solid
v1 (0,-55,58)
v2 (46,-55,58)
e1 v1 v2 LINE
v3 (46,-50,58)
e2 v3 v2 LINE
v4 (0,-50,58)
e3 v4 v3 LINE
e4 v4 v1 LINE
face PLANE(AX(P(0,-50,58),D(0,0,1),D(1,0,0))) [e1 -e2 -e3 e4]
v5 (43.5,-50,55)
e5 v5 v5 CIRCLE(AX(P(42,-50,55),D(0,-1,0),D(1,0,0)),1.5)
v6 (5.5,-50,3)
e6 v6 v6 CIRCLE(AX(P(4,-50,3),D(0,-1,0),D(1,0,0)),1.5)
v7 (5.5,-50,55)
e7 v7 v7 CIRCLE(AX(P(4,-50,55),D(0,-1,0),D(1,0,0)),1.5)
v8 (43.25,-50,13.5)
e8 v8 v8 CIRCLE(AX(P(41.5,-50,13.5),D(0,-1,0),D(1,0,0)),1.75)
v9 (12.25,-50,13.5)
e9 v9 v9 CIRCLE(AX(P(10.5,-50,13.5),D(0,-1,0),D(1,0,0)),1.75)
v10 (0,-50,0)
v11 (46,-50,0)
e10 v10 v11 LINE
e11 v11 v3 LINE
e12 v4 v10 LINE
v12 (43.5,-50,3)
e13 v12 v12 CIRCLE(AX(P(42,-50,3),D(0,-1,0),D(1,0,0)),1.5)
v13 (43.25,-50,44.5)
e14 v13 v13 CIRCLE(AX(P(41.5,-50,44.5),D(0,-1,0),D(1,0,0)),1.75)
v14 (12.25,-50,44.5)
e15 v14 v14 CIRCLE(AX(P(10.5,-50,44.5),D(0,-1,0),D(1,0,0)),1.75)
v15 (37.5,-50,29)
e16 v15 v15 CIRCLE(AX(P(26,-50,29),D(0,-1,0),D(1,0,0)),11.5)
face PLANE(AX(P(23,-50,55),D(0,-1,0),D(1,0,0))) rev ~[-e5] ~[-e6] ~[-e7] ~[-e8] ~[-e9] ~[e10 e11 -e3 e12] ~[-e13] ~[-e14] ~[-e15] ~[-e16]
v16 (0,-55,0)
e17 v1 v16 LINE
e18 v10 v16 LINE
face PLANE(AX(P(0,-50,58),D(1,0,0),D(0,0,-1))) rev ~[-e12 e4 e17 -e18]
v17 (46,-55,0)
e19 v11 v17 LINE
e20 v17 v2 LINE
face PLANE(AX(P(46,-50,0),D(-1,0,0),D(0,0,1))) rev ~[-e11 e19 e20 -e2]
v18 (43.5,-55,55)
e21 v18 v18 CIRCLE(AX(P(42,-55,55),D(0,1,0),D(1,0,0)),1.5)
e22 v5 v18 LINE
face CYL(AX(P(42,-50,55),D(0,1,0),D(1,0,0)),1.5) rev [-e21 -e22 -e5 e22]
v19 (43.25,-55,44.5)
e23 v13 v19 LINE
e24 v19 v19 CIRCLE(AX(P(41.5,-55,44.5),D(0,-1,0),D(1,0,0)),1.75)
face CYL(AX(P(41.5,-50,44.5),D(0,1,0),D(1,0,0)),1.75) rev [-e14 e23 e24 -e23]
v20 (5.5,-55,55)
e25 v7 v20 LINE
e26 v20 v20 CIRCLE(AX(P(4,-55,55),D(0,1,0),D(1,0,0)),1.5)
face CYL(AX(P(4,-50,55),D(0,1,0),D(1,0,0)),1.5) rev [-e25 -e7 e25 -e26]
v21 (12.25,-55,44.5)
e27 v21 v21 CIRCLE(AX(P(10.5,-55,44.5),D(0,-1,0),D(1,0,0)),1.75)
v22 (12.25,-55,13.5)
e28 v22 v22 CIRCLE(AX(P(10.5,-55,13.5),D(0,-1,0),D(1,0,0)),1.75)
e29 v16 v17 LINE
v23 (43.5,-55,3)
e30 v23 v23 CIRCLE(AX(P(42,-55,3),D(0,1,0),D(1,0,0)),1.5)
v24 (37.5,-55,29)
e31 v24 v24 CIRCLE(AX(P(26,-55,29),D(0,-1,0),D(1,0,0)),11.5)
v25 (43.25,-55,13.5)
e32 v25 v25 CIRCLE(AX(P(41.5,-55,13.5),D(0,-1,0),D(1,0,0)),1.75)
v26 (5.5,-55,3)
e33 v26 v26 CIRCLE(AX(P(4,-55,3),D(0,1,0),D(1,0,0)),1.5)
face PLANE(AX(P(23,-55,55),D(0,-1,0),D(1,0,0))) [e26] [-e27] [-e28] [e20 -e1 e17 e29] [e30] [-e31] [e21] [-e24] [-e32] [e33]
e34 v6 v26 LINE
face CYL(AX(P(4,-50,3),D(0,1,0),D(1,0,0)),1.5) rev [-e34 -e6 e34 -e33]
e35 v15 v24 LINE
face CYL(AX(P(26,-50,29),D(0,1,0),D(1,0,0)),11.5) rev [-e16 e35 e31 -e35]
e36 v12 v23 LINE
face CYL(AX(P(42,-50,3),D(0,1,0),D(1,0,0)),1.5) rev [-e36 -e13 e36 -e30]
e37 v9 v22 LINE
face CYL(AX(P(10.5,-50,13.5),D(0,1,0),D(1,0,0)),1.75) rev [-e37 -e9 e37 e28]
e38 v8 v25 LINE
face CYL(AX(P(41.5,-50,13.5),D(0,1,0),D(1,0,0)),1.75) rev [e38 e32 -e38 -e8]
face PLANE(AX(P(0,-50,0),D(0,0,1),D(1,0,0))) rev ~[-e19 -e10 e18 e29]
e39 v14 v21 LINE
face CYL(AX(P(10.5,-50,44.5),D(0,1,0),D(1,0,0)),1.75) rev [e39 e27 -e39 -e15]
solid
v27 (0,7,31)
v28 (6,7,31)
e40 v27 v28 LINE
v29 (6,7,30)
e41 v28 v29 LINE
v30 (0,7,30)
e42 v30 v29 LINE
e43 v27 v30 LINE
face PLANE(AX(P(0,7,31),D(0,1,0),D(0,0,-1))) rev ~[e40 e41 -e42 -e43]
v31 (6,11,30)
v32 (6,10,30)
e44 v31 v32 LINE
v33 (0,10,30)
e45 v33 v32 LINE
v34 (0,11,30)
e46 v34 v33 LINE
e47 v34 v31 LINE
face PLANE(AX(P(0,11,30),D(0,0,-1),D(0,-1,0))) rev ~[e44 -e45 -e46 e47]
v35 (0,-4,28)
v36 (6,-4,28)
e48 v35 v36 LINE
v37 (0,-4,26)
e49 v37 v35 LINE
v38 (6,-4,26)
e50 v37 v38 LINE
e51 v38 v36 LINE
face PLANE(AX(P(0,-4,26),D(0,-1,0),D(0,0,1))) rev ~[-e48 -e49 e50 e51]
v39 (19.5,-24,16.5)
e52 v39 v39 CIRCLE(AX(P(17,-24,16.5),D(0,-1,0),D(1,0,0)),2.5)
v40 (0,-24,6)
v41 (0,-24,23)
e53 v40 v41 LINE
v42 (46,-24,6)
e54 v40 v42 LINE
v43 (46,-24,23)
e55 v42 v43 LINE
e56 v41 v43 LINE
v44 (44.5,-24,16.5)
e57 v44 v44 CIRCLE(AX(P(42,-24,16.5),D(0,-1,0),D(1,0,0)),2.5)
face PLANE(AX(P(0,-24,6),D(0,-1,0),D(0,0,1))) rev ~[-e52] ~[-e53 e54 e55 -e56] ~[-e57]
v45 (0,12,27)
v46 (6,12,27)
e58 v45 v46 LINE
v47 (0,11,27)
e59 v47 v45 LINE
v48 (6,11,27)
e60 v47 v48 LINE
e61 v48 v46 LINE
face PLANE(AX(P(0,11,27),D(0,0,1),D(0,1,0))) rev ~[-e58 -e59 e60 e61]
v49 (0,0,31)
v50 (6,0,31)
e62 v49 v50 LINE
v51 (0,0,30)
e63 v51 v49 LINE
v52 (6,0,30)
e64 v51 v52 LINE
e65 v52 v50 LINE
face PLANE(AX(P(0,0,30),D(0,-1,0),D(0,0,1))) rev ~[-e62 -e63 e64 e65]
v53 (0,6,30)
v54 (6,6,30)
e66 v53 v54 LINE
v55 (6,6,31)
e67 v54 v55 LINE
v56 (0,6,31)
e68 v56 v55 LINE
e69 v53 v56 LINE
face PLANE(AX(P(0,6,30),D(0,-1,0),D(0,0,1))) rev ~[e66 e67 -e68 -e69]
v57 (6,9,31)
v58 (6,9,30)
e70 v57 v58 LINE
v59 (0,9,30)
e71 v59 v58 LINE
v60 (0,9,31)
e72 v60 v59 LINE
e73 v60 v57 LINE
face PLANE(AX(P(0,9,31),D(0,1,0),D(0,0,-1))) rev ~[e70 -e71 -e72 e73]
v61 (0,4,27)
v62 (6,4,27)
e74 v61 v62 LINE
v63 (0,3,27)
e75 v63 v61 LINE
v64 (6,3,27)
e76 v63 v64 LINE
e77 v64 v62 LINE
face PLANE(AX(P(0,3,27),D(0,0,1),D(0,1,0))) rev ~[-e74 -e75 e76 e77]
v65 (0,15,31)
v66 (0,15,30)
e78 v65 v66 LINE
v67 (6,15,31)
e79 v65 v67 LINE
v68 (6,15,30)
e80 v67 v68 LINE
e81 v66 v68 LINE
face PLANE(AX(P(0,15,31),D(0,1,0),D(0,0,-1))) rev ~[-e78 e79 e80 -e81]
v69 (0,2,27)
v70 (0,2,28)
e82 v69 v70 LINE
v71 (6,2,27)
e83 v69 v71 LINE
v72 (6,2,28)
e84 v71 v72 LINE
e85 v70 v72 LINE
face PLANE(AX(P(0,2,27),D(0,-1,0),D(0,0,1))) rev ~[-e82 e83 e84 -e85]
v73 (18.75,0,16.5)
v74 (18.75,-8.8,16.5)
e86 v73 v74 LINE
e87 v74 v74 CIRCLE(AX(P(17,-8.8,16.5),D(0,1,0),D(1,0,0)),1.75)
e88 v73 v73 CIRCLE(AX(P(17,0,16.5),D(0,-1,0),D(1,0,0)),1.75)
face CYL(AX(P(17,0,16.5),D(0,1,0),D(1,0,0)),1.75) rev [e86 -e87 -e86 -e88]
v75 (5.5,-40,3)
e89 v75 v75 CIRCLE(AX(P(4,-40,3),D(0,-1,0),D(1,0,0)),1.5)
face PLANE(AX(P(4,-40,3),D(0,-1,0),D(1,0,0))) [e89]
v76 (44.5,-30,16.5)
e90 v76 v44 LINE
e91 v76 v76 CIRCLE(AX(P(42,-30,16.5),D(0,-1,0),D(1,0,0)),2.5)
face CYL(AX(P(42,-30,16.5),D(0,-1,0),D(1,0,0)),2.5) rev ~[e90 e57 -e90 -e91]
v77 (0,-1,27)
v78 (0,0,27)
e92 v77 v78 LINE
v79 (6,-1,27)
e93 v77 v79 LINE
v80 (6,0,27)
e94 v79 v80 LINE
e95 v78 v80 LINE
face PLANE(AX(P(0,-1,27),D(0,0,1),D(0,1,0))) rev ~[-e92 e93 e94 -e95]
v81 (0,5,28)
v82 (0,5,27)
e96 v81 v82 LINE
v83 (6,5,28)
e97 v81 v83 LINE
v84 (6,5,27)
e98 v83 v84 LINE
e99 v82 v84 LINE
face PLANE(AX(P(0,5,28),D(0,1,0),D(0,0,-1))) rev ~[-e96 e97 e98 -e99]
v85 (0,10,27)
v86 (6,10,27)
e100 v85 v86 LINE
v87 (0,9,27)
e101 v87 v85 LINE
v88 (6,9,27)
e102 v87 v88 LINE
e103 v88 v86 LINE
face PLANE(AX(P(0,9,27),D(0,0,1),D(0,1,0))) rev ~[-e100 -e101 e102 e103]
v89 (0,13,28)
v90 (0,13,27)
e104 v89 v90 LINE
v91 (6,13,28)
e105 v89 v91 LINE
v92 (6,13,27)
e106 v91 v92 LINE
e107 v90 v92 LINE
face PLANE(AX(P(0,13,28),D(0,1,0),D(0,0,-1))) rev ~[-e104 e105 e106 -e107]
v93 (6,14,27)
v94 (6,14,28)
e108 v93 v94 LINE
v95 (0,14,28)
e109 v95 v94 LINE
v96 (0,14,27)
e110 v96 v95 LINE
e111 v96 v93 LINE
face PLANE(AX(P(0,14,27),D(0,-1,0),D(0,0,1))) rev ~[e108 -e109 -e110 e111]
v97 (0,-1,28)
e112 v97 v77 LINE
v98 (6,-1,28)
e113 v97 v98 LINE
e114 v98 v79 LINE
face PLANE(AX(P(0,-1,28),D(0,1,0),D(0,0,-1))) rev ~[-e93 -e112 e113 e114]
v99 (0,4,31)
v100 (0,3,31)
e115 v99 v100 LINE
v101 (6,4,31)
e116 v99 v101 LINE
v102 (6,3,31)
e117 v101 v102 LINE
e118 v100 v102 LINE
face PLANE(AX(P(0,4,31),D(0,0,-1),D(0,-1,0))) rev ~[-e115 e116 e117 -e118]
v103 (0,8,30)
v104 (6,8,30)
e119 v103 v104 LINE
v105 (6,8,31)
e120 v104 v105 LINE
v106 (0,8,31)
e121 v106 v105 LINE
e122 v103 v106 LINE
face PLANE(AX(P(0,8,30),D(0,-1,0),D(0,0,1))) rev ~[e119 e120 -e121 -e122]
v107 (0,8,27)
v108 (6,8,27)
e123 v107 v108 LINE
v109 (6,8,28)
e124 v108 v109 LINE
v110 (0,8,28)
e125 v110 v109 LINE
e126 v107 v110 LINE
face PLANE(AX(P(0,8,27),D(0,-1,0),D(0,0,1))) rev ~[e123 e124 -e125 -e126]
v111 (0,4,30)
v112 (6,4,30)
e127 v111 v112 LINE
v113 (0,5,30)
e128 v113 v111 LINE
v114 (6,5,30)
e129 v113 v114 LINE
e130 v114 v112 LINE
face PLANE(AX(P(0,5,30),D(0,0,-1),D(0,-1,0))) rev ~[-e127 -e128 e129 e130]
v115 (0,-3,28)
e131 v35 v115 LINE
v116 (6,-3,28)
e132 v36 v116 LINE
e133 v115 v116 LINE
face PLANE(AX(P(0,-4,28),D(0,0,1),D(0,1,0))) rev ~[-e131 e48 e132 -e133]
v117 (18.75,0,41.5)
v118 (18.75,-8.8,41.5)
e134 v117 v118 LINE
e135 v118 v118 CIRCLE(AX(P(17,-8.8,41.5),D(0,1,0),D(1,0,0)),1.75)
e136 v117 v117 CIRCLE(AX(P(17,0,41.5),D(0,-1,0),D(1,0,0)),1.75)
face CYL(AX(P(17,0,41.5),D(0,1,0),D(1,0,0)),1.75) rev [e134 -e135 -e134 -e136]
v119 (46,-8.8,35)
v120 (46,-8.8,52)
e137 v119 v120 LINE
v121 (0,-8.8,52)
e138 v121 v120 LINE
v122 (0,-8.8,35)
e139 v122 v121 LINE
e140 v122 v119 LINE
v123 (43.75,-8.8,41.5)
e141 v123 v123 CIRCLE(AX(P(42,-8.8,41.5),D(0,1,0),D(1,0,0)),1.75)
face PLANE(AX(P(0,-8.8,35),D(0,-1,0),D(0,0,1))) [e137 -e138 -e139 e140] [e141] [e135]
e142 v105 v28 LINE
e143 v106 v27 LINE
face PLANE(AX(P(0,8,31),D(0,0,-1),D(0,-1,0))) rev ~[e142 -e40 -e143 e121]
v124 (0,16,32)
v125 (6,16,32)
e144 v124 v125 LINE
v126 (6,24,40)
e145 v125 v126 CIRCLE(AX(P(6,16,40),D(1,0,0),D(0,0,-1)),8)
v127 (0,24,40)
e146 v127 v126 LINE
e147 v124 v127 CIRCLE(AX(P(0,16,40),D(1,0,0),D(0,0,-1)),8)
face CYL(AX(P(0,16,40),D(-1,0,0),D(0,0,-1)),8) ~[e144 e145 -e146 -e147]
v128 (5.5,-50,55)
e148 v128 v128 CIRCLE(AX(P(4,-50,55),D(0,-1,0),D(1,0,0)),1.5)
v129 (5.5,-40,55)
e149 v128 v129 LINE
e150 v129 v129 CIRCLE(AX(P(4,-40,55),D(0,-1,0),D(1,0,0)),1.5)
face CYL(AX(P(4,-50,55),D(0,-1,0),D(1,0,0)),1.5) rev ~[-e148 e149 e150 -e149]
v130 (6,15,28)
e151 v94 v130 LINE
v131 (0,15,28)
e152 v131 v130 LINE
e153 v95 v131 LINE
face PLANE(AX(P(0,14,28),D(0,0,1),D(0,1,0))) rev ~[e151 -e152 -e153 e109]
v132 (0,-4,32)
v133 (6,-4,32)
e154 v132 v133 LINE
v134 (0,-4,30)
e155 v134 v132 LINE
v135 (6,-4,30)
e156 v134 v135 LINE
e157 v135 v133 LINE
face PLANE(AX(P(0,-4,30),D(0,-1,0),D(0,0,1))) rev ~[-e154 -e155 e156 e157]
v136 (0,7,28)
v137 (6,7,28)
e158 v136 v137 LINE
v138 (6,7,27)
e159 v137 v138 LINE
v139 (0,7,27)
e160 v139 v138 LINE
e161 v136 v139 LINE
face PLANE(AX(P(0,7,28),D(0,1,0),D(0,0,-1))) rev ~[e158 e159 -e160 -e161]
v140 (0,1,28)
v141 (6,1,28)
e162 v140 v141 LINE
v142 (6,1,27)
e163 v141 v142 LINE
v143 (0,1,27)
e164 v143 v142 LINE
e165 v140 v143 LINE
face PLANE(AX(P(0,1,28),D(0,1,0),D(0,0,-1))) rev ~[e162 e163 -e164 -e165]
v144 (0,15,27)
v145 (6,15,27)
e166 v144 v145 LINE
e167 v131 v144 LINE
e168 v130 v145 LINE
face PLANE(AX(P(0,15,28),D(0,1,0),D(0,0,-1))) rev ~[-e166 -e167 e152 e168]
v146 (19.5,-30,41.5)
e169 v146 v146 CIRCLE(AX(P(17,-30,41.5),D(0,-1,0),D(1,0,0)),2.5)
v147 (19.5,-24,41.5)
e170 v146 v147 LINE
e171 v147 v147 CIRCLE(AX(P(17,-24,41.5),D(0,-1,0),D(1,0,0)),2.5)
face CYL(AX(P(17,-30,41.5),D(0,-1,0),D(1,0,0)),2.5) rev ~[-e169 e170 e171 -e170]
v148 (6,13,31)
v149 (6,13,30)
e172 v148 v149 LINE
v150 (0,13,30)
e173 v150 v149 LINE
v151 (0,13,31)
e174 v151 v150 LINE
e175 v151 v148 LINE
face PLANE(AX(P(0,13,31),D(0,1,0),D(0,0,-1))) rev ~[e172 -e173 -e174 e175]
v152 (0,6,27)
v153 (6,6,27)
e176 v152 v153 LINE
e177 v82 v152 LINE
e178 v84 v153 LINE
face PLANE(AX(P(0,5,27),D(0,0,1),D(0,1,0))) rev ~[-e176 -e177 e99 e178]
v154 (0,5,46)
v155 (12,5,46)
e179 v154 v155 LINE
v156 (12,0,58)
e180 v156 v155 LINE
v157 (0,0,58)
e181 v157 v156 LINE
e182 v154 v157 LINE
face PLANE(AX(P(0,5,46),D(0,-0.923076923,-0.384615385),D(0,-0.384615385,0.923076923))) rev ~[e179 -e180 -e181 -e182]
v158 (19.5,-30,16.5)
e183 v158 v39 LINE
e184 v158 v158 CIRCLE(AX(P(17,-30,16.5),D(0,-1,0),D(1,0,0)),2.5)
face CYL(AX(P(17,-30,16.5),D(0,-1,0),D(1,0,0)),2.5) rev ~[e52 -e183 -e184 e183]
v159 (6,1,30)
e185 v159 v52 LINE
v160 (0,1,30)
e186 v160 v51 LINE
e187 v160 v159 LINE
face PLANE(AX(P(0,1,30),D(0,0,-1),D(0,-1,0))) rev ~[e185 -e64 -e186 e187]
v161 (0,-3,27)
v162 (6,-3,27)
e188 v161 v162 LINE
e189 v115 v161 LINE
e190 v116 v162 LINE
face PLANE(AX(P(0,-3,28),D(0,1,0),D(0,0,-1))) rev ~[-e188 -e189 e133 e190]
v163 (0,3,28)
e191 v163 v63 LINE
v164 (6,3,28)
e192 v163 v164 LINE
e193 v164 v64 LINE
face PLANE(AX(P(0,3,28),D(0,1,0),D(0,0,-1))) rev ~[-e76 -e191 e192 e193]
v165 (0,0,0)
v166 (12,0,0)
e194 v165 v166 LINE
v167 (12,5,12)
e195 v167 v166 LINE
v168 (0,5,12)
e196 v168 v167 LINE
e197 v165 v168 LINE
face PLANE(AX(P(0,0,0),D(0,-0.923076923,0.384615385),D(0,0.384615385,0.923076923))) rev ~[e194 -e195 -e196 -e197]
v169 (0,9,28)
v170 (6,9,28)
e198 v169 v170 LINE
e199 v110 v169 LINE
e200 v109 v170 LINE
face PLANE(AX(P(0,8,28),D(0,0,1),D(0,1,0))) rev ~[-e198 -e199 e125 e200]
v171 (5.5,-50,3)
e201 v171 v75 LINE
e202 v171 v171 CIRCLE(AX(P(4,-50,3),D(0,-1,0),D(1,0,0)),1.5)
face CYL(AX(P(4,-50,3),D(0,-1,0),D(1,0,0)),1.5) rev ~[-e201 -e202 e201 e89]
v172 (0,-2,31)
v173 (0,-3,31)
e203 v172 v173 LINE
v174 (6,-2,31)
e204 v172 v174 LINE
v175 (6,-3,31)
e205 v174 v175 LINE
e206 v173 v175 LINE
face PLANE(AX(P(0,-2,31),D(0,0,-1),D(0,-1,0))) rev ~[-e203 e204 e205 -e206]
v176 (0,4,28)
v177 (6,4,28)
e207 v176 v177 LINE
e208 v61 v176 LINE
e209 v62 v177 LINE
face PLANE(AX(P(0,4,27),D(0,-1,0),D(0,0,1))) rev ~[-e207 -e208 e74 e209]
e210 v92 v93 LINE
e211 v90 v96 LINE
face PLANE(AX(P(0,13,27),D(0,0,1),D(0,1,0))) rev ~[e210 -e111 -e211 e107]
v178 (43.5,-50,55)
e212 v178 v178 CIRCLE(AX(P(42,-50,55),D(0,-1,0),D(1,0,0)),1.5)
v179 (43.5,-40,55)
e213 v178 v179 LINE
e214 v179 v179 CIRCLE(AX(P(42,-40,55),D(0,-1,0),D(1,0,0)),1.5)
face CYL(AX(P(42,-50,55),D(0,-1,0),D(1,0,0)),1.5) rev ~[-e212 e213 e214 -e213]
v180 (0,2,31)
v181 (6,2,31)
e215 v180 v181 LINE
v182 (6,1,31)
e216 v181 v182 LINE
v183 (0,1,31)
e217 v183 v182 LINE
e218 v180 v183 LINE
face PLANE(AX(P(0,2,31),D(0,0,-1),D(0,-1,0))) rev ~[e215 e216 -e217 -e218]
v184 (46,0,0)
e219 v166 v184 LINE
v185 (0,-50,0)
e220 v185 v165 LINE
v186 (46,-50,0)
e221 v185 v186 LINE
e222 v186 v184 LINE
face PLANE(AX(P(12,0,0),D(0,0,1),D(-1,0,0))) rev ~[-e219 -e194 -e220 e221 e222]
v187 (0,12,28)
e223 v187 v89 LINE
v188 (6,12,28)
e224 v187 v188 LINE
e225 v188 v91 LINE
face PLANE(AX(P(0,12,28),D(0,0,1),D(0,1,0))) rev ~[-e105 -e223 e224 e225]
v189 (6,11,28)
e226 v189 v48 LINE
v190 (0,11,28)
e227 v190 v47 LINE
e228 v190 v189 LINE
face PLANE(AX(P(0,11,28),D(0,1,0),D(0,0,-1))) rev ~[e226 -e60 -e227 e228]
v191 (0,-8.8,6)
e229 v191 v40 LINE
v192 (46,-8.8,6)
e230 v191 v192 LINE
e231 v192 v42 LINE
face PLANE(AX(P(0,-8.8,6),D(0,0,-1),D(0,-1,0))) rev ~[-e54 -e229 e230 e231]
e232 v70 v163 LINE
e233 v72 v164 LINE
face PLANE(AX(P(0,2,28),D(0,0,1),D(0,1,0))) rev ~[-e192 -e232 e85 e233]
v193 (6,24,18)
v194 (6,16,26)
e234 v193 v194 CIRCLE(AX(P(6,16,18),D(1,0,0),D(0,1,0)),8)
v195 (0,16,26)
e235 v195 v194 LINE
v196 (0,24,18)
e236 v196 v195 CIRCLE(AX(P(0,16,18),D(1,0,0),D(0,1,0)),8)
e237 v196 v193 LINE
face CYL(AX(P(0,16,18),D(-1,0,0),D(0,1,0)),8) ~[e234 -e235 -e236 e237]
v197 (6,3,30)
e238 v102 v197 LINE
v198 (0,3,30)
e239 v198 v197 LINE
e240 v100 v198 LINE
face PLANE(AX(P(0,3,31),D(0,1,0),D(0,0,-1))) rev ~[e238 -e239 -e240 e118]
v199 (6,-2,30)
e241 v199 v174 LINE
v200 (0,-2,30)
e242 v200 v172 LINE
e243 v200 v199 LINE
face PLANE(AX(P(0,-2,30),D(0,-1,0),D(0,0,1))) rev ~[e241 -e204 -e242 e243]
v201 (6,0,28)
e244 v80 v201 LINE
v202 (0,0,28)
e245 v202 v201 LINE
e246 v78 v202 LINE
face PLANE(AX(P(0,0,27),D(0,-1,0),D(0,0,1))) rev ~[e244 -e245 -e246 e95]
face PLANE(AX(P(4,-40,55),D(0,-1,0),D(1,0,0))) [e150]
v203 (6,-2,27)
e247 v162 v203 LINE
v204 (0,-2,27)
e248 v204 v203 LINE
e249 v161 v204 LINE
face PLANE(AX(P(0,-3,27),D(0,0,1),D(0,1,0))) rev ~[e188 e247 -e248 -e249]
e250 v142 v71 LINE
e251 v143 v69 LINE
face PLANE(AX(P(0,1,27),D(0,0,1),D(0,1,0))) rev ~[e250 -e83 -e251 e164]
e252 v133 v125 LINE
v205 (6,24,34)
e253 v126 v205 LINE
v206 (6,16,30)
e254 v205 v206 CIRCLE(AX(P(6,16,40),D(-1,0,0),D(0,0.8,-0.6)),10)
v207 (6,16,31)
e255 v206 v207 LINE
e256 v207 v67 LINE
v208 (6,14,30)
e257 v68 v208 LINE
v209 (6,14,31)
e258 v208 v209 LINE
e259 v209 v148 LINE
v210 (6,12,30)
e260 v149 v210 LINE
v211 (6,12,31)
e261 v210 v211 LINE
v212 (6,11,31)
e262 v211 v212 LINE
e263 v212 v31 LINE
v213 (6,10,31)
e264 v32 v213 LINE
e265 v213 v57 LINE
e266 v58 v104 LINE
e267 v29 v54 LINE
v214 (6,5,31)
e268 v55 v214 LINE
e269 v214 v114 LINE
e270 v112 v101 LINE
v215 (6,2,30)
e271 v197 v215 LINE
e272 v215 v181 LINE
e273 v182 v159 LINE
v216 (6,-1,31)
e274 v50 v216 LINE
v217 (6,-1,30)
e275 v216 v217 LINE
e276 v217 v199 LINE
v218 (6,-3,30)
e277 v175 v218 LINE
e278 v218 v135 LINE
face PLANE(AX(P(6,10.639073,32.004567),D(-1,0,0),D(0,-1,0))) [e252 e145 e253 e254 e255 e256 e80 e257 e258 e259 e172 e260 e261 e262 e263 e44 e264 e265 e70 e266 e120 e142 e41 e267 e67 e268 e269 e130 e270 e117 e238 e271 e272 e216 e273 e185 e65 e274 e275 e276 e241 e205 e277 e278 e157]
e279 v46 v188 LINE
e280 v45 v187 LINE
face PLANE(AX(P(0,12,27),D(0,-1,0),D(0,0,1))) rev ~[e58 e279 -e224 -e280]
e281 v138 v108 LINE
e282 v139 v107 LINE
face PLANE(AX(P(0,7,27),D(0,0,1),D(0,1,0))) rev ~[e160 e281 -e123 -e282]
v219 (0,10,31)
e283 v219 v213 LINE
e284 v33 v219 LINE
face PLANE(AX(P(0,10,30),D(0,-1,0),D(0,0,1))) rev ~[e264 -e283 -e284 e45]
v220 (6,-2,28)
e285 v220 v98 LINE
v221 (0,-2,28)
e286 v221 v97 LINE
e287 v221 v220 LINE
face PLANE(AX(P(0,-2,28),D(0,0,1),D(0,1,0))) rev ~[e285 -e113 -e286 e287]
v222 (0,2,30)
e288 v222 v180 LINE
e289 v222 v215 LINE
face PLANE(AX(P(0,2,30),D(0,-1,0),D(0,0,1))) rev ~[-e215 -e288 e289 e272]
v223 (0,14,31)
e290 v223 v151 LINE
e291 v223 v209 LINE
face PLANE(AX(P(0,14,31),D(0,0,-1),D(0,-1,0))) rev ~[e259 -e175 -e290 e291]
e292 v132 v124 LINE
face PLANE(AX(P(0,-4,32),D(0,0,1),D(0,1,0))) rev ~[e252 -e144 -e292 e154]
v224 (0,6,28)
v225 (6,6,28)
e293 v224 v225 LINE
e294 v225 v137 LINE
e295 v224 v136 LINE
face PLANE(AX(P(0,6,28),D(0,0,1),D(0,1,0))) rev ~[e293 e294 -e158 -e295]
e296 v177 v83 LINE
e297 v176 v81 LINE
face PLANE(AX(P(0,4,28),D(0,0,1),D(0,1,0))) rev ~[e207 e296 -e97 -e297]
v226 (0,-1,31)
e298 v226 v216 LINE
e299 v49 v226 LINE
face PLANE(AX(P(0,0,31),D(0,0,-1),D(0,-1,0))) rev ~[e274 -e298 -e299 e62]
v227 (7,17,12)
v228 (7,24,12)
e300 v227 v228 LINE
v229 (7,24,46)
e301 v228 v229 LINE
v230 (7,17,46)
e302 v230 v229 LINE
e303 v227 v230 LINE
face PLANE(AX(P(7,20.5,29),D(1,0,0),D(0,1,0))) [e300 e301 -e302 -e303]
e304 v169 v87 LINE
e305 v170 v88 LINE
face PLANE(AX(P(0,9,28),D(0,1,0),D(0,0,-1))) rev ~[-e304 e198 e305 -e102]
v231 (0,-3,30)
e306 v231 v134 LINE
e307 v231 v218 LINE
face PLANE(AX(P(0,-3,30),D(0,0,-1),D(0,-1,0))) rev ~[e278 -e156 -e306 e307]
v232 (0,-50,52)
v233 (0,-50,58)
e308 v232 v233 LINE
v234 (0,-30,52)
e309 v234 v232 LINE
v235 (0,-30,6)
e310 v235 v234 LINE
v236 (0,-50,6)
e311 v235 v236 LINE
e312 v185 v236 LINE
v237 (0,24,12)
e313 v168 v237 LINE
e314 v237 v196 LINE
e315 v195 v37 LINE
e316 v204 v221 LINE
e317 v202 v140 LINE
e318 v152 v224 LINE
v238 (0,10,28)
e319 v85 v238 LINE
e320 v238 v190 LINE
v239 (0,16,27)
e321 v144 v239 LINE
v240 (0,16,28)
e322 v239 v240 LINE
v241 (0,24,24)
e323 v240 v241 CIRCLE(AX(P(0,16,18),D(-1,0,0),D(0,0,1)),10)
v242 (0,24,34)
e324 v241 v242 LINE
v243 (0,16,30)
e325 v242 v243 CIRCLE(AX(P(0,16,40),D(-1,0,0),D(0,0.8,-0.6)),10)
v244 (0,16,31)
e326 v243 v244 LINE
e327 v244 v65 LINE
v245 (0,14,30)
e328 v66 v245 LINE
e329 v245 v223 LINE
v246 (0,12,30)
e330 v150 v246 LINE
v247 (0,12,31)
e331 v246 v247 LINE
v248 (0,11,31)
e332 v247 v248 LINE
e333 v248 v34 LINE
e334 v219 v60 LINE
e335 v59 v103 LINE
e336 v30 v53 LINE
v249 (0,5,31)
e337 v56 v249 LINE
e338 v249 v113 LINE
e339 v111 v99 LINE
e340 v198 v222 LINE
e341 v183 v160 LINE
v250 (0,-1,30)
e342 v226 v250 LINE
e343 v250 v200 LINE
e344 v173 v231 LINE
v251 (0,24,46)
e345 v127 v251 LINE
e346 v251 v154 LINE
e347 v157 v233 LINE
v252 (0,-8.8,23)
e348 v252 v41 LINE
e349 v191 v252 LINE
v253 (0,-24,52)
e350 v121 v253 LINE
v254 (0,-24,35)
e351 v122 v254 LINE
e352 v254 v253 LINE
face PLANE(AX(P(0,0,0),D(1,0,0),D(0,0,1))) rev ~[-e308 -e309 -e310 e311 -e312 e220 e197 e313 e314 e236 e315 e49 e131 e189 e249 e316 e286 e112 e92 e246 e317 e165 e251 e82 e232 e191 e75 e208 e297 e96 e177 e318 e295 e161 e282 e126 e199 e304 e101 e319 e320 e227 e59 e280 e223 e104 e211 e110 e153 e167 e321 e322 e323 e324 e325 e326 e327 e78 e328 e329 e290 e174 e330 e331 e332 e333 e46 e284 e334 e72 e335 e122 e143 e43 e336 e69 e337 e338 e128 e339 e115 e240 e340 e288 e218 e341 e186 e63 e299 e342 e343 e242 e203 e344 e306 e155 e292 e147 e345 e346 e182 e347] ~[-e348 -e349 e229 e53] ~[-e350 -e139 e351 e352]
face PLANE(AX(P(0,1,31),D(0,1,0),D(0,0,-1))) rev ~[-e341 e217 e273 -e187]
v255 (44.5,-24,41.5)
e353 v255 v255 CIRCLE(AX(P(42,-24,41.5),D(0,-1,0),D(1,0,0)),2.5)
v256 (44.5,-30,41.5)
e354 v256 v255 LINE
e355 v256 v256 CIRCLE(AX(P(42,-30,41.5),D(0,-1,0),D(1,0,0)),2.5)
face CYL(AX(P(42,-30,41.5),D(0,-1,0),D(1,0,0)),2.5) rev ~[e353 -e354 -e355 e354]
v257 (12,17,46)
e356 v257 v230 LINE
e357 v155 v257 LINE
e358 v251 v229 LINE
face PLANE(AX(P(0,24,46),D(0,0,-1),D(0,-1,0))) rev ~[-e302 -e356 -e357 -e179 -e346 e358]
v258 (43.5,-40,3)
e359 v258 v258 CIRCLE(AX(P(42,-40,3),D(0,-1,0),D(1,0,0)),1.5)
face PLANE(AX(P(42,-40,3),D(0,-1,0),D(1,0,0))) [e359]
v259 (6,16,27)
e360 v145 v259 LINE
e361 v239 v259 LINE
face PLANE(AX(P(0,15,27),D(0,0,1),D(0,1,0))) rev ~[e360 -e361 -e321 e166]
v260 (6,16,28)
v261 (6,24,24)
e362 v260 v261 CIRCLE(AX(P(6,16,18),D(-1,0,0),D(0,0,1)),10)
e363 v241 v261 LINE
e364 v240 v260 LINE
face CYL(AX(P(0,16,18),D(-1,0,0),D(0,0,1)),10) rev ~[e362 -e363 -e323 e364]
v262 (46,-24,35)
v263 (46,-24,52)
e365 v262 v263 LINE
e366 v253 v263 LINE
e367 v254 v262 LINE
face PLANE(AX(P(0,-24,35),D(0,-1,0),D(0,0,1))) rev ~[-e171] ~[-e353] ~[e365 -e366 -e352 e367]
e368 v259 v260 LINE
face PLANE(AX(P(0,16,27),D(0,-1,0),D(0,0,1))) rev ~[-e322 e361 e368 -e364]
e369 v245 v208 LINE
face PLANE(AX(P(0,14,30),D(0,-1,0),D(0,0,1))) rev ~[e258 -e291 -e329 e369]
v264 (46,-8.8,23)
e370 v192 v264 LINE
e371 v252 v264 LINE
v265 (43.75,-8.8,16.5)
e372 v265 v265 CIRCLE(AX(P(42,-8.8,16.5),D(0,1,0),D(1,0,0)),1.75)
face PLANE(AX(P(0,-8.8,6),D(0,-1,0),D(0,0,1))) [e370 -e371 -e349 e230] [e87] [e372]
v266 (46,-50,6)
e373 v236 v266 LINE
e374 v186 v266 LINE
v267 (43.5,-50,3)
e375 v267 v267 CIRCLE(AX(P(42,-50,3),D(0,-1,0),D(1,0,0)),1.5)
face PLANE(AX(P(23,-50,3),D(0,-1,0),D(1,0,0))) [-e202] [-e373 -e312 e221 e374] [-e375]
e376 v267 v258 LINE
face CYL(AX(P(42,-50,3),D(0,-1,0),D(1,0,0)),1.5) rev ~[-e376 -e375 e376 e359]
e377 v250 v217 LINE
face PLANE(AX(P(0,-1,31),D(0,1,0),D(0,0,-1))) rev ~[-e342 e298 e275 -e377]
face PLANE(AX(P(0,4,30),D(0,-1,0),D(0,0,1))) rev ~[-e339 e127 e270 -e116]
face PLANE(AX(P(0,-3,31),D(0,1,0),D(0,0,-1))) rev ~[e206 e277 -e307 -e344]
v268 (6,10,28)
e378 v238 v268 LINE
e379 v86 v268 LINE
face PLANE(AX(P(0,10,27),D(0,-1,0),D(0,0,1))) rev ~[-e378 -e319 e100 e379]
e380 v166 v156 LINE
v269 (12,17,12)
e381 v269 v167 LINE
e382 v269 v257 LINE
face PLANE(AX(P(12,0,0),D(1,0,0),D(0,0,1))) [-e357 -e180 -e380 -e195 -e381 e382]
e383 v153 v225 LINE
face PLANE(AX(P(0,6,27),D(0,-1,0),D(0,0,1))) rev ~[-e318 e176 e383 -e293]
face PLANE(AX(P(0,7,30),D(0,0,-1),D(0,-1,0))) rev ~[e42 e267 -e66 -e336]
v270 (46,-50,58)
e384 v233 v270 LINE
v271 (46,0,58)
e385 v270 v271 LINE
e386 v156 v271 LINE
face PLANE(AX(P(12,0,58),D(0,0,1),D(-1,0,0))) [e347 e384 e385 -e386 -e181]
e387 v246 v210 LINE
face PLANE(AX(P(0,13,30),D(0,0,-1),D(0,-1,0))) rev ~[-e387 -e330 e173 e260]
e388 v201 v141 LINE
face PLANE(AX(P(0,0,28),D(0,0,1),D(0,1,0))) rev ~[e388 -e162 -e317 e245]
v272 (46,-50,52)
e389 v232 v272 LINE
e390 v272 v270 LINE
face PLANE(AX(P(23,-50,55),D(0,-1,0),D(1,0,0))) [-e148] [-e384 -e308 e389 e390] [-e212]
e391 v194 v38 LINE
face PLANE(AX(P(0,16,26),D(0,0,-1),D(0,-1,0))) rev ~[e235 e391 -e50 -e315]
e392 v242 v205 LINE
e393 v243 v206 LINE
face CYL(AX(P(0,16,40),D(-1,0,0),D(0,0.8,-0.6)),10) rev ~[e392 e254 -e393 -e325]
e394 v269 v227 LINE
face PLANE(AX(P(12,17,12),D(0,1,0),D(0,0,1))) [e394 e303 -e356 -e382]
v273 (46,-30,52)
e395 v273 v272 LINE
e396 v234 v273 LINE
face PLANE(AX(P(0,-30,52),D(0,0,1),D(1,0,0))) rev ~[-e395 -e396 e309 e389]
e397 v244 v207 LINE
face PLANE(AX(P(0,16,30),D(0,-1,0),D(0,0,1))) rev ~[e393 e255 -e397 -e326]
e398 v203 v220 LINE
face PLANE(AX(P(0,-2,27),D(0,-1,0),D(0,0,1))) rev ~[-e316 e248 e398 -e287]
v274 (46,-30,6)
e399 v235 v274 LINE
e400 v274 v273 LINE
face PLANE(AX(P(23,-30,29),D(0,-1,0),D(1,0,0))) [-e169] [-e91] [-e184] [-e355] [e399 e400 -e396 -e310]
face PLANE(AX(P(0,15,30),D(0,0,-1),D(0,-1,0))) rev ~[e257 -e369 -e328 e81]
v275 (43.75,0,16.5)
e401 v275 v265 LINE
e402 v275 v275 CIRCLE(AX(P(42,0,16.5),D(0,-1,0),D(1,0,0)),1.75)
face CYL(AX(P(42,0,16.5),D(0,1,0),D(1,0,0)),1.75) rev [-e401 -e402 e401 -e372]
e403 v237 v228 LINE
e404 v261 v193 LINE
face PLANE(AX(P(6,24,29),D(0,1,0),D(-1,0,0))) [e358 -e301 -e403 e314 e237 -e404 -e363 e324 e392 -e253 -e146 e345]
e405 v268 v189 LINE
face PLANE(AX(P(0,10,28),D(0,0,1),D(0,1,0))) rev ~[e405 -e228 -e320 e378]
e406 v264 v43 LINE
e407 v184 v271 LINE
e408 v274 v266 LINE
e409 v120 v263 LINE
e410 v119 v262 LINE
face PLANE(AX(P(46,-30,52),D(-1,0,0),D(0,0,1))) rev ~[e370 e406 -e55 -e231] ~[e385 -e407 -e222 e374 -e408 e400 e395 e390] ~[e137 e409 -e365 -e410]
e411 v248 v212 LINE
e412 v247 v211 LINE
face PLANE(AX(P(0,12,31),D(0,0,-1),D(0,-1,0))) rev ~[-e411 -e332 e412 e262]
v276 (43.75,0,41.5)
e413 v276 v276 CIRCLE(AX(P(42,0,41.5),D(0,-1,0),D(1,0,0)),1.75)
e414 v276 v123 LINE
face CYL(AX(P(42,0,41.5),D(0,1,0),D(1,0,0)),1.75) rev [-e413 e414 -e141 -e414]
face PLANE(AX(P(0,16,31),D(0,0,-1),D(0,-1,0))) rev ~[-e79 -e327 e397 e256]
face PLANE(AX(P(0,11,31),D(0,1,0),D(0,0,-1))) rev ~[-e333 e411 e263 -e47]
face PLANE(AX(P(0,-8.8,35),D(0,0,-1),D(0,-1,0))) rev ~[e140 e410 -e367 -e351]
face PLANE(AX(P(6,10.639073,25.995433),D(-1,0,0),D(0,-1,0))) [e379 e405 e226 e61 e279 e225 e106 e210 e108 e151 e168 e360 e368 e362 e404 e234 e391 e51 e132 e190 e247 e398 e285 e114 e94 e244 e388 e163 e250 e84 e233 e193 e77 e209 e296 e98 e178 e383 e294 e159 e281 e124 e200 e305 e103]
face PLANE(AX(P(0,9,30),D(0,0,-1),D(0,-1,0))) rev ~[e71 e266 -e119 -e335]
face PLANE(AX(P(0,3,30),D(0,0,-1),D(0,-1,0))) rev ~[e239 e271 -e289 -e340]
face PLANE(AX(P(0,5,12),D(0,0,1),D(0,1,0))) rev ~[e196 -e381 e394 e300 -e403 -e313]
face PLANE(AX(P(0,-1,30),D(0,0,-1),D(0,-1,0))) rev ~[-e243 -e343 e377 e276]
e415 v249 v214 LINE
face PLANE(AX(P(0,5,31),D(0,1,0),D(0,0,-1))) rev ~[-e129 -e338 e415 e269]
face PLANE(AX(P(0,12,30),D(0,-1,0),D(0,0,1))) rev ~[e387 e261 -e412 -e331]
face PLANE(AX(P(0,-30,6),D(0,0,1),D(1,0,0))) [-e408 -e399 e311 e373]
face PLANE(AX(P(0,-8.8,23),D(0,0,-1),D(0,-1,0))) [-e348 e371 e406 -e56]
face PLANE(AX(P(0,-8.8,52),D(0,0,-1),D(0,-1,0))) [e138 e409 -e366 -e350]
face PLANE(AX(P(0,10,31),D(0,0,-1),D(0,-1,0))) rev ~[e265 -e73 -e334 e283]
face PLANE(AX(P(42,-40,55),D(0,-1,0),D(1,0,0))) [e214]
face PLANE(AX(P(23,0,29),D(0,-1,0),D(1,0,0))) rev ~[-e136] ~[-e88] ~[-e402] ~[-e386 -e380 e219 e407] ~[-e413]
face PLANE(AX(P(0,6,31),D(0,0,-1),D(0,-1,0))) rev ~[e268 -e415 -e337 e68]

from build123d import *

# Parameters (mm, degrees)
F0_W      = 46
F0_H      = 58
F0_R      = 1.75
F1_DEPTH  = 30
F2_W      = 15.2
F2_H      = 17
F3_DEPTH  = 46.001
F4_W      = 46
F4_H      = 6
F5_DEPTH  = 20
F6_W      = 46
F6_H      = 6
F6_H_2    = 47.4574649807
F6_R      = 1.75
F6_R_2    = 11.5
F6_H_3    = 4.5425350193
F7_DEPTH  = 5
F8_R      = 2.5
F9_DEPTH  = 10
F10_R     = 1.5
F11_DEPTH = 10
F12_DEPTH = 5.001
F13_W     = 12
F13_H     = 58
F14_DEPTH = 24
F16_DEPTH = 6
F18_DEPTH = 46.001
F19_W     = 7
F19_H     = 34
F20_DEPTH = 5


with BuildPart() as f1:
    # F0 (on Front) → F1 (new body)
    with BuildSketch(Plane.XZ):
        with Locations((23, 29)):
            Rectangle(F0_W, F0_H)
        with Locations((17, 16.5)):
            Circle(F0_R, mode=Mode.SUBTRACT)
        with Locations((42, 16.5)):
            Circle(F0_R, mode=Mode.SUBTRACT)
        with Locations((17, 41.5)):
            Circle(F0_R, mode=Mode.SUBTRACT)
        with Locations((42, 41.5)):
            Circle(F0_R, mode=Mode.SUBTRACT)
    extrude(amount=F1_DEPTH)

    # F2 (on face) → F3 (cut, through all)
    with BuildSketch(Plane(origin=(0, 0, 0), x_dir=(0, -1, 0), z_dir=(-1, 0, 0))):
        with Locations((16.4, 14.5)):
            Rectangle(F2_W, F2_H)
        with Locations((16.4, 43.5)):
            Rectangle(F2_W, F2_H)
    extrude(amount=-F3_DEPTH, mode=Mode.SUBTRACT)

    # F4 (on face) → F5 (join)
    with BuildSketch(Plane.XZ.offset(30)):
        with Locations((23, 55)):
            Rectangle(F4_W, F4_H)
        with Locations((23, 3)):
            Rectangle(F4_W, F4_H)
    extrude(amount=F5_DEPTH)

    # F8 (on face) → F9 (cut)
    with BuildSketch(Plane.XZ.offset(30)):
        with Locations((17, 41.5)):
            Circle(F8_R)
        with Locations((17, 16.5)):
            Circle(F8_R)
        with Locations((42, 41.5)):
            Circle(F8_R)
        with Locations((42, 16.5)):
            Circle(F8_R)
    extrude(amount=-F9_DEPTH, mode=Mode.SUBTRACT)

    # F10 (on face) → F11 (cut)
    with BuildSketch(Plane.XZ.offset(50)):
        with Locations((42, 3)):
            Circle(F10_R)
        with Locations((4, 3)):
            Circle(F10_R)
        with Locations((42, 55)):
            Circle(F10_R)
        with Locations((4, 55)):
            Circle(F10_R)
    extrude(amount=-F11_DEPTH, mode=Mode.SUBTRACT)

    # F13 (on face) → F14 (join)
    with BuildSketch(Plane(origin=(0, 0, 0), x_dir=(-1, 0, 0), z_dir=(0, 1, 0))):
        with Locations((-6, 29)):
            Rectangle(F13_W, F13_H)
    extrude(amount=F14_DEPTH)

    # F15 (on face) → F16 (cut)
    with BuildSketch(Plane(origin=(0, 0, 0), x_dir=(0, -1, 0), z_dir=(-1, 0, 0))):
        with BuildLine():
            ThreePointArc((-16, 32), (-21.6568542495, 34.3431457505), (-24, 40))
            Line((-24, 40), (-24, 34))
            ThreePointArc((-24, 34), (-20.472135955, 31.05572809), (-16, 30))
            Line((-16, 30), (-16, 31))
            Line((-16, 31), (-15, 31))
            Line((-15, 31), (-15, 30))
            Line((-15, 30), (-14, 30))
            Line((-14, 30), (-14, 31))
            Line((-14, 31), (-13, 31))
            Line((-13, 31), (-13, 30))
            Line((-13, 30), (-12, 30))
            Line((-12, 30), (-12, 31))
            Line((-12, 31), (-11, 31))
            Line((-11, 31), (-11, 30))
            Line((-11, 30), (-10, 30))
            Line((-10, 30), (-10, 31))
            Line((-10, 31), (-9, 31))
            Line((-9, 31), (-9, 30))
            Line((-9, 30), (-8, 30))
            Line((-8, 30), (-8, 31))
            Line((-8, 31), (-7, 31))
            Line((-7, 31), (-7, 30))
            Line((-7, 30), (-6, 30))
            Line((-6, 30), (-6, 31))
            Line((-6, 31), (-5, 31))
            Line((-5, 31), (-5, 30))
            Line((-5, 30), (-4, 30))
            Line((-4, 30), (-4, 31))
            Line((-4, 31), (-3, 31))
            Line((-3, 31), (-3, 30))
            Line((-3, 30), (-2, 30))
            Line((-2, 30), (-2, 31))
            Line((-2, 31), (-1, 31))
            Line((-1, 31), (-1, 30))
            Line((-1, 30), (0, 30))
            Line((0, 30), (0, 31))
            Line((0, 31), (1, 31))
            Line((1, 31), (1, 30))
            Line((1, 30), (2, 30))
            Line((2, 30), (2, 31))
            Line((2, 31), (3, 31))
            Line((3, 31), (3, 30))
            Line((3, 30), (4, 30))
            Line((4, 30), (4, 32))
            Line((4, 32), (-16, 32))
        make_face()
        with BuildLine():
            Line((-2, 28), (-3, 28))
            Line((-3, 28), (-3, 27))
            Line((-3, 27), (-4, 27))
            Line((-4, 27), (-4, 28))
            Line((-4, 28), (-5, 28))
            Line((-5, 28), (-5, 27))
            Line((-5, 27), (-6, 27))
            Line((-6, 27), (-6, 28))
            Line((-6, 28), (-7, 28))
            Line((-7, 28), (-7, 27))
            Line((-7, 27), (-8, 27))
            Line((-8, 27), (-8, 28))
            Line((-8, 28), (-9, 28))
            Line((-9, 28), (-9, 27))
            Line((-9, 27), (-10, 27))
            Line((-10, 27), (-10, 28))
            Line((-10, 28), (-11, 28))
            Line((-11, 28), (-11, 27))
            Line((-11, 27), (-12, 27))
            Line((-12, 27), (-12, 28))
            Line((-12, 28), (-13, 28))
            Line((-13, 28), (-13, 27))
            Line((-13, 27), (-14, 27))
            Line((-14, 27), (-14, 28))
            Line((-14, 28), (-15, 28))
            Line((-15, 28), (-15, 27))
            Line((-15, 27), (-16, 27))
            Line((-16, 27), (-16, 28))
            ThreePointArc((-16, 28), (-20.472135955, 26.94427191), (-24, 24))
            Line((-24, 24), (-24, 18))
            ThreePointArc((-24, 18), (-21.6568542495, 23.6568542495), (-16, 26))
            Line((-16, 26), (4, 26))
            Line((4, 26), (4, 28))
            Line((4, 28), (3, 28))
            Line((3, 28), (3, 27))
            Line((3, 27), (2, 27))
            Line((2, 27), (2, 28))
            Line((2, 28), (1, 28))
            Line((1, 28), (1, 27))
            Line((1, 27), (0, 27))
            Line((0, 27), (0, 28))
            Line((0, 28), (-1, 28))
            Line((-1, 28), (-1, 27))
            Line((-1, 27), (-2, 27))
            Line((-2, 27), (-2, 28))
        make_face()
    extrude(amount=-F16_DEPTH, mode=Mode.SUBTRACT)

    # F17 (on face) → F18 (cut, through all)
    with BuildSketch(Plane(origin=(0, 0, 0), x_dir=(0, -1, 0), z_dir=(-1, 0, 0))):
        Polygon((-24, 58), (-24, 46), (-5, 46), (0, 58), align=None)
        Polygon((-24, 12), (-24, 0), (0, 0), (-5, 12), align=None)
    extrude(amount=-F18_DEPTH, mode=Mode.SUBTRACT)

    # F19 (on face) → F20 (cut)
    with BuildSketch(Plane.YZ.offset(12)):
        with Locations((20.5, 29)):
            Rectangle(F19_W, F19_H)
    extrude(amount=-F20_DEPTH, mode=Mode.SUBTRACT)


with BuildPart() as f7:
    # F6 (on face) → F7 (new body)
    with BuildSketch(Plane.XZ.offset(50)):
        with Locations((23, 55)):
            Rectangle(F6_W, F6_H)
        with Locations((23, 28.2712675097)):
            Rectangle(F6_W, F6_H_2)
        with Locations((10.5, 13.5)):
            Circle(F6_R, mode=Mode.SUBTRACT)
        with Locations((41.5, 13.5)):
            Circle(F6_R, mode=Mode.SUBTRACT)
        with Locations((10.5, 44.5)):
            Circle(F6_R, mode=Mode.SUBTRACT)
        with Locations((26, 29)):
            Circle(F6_R_2, mode=Mode.SUBTRACT)
        with Locations((41.5, 44.5)):
            Circle(F6_R, mode=Mode.SUBTRACT)
        with Locations((23, 2.2712675097)):
            Rectangle(F6_W, F6_H_3)
    extrude(amount=F7_DEPTH)

    # F10 (on face) → F12 (cut, through all)
    with BuildSketch(Plane.XZ.offset(50)):
        with Locations((42, 3)):
            Circle(F10_R)
        with Locations((4, 3)):
            Circle(F10_R)
        with Locations((42, 55)):
            Circle(F10_R)
        with Locations((4, 55)):
            Circle(F10_R)
    extrude(amount=F12_DEPTH, mode=Mode.SUBTRACT)


solid = Compound([f1.part, f7.part])
